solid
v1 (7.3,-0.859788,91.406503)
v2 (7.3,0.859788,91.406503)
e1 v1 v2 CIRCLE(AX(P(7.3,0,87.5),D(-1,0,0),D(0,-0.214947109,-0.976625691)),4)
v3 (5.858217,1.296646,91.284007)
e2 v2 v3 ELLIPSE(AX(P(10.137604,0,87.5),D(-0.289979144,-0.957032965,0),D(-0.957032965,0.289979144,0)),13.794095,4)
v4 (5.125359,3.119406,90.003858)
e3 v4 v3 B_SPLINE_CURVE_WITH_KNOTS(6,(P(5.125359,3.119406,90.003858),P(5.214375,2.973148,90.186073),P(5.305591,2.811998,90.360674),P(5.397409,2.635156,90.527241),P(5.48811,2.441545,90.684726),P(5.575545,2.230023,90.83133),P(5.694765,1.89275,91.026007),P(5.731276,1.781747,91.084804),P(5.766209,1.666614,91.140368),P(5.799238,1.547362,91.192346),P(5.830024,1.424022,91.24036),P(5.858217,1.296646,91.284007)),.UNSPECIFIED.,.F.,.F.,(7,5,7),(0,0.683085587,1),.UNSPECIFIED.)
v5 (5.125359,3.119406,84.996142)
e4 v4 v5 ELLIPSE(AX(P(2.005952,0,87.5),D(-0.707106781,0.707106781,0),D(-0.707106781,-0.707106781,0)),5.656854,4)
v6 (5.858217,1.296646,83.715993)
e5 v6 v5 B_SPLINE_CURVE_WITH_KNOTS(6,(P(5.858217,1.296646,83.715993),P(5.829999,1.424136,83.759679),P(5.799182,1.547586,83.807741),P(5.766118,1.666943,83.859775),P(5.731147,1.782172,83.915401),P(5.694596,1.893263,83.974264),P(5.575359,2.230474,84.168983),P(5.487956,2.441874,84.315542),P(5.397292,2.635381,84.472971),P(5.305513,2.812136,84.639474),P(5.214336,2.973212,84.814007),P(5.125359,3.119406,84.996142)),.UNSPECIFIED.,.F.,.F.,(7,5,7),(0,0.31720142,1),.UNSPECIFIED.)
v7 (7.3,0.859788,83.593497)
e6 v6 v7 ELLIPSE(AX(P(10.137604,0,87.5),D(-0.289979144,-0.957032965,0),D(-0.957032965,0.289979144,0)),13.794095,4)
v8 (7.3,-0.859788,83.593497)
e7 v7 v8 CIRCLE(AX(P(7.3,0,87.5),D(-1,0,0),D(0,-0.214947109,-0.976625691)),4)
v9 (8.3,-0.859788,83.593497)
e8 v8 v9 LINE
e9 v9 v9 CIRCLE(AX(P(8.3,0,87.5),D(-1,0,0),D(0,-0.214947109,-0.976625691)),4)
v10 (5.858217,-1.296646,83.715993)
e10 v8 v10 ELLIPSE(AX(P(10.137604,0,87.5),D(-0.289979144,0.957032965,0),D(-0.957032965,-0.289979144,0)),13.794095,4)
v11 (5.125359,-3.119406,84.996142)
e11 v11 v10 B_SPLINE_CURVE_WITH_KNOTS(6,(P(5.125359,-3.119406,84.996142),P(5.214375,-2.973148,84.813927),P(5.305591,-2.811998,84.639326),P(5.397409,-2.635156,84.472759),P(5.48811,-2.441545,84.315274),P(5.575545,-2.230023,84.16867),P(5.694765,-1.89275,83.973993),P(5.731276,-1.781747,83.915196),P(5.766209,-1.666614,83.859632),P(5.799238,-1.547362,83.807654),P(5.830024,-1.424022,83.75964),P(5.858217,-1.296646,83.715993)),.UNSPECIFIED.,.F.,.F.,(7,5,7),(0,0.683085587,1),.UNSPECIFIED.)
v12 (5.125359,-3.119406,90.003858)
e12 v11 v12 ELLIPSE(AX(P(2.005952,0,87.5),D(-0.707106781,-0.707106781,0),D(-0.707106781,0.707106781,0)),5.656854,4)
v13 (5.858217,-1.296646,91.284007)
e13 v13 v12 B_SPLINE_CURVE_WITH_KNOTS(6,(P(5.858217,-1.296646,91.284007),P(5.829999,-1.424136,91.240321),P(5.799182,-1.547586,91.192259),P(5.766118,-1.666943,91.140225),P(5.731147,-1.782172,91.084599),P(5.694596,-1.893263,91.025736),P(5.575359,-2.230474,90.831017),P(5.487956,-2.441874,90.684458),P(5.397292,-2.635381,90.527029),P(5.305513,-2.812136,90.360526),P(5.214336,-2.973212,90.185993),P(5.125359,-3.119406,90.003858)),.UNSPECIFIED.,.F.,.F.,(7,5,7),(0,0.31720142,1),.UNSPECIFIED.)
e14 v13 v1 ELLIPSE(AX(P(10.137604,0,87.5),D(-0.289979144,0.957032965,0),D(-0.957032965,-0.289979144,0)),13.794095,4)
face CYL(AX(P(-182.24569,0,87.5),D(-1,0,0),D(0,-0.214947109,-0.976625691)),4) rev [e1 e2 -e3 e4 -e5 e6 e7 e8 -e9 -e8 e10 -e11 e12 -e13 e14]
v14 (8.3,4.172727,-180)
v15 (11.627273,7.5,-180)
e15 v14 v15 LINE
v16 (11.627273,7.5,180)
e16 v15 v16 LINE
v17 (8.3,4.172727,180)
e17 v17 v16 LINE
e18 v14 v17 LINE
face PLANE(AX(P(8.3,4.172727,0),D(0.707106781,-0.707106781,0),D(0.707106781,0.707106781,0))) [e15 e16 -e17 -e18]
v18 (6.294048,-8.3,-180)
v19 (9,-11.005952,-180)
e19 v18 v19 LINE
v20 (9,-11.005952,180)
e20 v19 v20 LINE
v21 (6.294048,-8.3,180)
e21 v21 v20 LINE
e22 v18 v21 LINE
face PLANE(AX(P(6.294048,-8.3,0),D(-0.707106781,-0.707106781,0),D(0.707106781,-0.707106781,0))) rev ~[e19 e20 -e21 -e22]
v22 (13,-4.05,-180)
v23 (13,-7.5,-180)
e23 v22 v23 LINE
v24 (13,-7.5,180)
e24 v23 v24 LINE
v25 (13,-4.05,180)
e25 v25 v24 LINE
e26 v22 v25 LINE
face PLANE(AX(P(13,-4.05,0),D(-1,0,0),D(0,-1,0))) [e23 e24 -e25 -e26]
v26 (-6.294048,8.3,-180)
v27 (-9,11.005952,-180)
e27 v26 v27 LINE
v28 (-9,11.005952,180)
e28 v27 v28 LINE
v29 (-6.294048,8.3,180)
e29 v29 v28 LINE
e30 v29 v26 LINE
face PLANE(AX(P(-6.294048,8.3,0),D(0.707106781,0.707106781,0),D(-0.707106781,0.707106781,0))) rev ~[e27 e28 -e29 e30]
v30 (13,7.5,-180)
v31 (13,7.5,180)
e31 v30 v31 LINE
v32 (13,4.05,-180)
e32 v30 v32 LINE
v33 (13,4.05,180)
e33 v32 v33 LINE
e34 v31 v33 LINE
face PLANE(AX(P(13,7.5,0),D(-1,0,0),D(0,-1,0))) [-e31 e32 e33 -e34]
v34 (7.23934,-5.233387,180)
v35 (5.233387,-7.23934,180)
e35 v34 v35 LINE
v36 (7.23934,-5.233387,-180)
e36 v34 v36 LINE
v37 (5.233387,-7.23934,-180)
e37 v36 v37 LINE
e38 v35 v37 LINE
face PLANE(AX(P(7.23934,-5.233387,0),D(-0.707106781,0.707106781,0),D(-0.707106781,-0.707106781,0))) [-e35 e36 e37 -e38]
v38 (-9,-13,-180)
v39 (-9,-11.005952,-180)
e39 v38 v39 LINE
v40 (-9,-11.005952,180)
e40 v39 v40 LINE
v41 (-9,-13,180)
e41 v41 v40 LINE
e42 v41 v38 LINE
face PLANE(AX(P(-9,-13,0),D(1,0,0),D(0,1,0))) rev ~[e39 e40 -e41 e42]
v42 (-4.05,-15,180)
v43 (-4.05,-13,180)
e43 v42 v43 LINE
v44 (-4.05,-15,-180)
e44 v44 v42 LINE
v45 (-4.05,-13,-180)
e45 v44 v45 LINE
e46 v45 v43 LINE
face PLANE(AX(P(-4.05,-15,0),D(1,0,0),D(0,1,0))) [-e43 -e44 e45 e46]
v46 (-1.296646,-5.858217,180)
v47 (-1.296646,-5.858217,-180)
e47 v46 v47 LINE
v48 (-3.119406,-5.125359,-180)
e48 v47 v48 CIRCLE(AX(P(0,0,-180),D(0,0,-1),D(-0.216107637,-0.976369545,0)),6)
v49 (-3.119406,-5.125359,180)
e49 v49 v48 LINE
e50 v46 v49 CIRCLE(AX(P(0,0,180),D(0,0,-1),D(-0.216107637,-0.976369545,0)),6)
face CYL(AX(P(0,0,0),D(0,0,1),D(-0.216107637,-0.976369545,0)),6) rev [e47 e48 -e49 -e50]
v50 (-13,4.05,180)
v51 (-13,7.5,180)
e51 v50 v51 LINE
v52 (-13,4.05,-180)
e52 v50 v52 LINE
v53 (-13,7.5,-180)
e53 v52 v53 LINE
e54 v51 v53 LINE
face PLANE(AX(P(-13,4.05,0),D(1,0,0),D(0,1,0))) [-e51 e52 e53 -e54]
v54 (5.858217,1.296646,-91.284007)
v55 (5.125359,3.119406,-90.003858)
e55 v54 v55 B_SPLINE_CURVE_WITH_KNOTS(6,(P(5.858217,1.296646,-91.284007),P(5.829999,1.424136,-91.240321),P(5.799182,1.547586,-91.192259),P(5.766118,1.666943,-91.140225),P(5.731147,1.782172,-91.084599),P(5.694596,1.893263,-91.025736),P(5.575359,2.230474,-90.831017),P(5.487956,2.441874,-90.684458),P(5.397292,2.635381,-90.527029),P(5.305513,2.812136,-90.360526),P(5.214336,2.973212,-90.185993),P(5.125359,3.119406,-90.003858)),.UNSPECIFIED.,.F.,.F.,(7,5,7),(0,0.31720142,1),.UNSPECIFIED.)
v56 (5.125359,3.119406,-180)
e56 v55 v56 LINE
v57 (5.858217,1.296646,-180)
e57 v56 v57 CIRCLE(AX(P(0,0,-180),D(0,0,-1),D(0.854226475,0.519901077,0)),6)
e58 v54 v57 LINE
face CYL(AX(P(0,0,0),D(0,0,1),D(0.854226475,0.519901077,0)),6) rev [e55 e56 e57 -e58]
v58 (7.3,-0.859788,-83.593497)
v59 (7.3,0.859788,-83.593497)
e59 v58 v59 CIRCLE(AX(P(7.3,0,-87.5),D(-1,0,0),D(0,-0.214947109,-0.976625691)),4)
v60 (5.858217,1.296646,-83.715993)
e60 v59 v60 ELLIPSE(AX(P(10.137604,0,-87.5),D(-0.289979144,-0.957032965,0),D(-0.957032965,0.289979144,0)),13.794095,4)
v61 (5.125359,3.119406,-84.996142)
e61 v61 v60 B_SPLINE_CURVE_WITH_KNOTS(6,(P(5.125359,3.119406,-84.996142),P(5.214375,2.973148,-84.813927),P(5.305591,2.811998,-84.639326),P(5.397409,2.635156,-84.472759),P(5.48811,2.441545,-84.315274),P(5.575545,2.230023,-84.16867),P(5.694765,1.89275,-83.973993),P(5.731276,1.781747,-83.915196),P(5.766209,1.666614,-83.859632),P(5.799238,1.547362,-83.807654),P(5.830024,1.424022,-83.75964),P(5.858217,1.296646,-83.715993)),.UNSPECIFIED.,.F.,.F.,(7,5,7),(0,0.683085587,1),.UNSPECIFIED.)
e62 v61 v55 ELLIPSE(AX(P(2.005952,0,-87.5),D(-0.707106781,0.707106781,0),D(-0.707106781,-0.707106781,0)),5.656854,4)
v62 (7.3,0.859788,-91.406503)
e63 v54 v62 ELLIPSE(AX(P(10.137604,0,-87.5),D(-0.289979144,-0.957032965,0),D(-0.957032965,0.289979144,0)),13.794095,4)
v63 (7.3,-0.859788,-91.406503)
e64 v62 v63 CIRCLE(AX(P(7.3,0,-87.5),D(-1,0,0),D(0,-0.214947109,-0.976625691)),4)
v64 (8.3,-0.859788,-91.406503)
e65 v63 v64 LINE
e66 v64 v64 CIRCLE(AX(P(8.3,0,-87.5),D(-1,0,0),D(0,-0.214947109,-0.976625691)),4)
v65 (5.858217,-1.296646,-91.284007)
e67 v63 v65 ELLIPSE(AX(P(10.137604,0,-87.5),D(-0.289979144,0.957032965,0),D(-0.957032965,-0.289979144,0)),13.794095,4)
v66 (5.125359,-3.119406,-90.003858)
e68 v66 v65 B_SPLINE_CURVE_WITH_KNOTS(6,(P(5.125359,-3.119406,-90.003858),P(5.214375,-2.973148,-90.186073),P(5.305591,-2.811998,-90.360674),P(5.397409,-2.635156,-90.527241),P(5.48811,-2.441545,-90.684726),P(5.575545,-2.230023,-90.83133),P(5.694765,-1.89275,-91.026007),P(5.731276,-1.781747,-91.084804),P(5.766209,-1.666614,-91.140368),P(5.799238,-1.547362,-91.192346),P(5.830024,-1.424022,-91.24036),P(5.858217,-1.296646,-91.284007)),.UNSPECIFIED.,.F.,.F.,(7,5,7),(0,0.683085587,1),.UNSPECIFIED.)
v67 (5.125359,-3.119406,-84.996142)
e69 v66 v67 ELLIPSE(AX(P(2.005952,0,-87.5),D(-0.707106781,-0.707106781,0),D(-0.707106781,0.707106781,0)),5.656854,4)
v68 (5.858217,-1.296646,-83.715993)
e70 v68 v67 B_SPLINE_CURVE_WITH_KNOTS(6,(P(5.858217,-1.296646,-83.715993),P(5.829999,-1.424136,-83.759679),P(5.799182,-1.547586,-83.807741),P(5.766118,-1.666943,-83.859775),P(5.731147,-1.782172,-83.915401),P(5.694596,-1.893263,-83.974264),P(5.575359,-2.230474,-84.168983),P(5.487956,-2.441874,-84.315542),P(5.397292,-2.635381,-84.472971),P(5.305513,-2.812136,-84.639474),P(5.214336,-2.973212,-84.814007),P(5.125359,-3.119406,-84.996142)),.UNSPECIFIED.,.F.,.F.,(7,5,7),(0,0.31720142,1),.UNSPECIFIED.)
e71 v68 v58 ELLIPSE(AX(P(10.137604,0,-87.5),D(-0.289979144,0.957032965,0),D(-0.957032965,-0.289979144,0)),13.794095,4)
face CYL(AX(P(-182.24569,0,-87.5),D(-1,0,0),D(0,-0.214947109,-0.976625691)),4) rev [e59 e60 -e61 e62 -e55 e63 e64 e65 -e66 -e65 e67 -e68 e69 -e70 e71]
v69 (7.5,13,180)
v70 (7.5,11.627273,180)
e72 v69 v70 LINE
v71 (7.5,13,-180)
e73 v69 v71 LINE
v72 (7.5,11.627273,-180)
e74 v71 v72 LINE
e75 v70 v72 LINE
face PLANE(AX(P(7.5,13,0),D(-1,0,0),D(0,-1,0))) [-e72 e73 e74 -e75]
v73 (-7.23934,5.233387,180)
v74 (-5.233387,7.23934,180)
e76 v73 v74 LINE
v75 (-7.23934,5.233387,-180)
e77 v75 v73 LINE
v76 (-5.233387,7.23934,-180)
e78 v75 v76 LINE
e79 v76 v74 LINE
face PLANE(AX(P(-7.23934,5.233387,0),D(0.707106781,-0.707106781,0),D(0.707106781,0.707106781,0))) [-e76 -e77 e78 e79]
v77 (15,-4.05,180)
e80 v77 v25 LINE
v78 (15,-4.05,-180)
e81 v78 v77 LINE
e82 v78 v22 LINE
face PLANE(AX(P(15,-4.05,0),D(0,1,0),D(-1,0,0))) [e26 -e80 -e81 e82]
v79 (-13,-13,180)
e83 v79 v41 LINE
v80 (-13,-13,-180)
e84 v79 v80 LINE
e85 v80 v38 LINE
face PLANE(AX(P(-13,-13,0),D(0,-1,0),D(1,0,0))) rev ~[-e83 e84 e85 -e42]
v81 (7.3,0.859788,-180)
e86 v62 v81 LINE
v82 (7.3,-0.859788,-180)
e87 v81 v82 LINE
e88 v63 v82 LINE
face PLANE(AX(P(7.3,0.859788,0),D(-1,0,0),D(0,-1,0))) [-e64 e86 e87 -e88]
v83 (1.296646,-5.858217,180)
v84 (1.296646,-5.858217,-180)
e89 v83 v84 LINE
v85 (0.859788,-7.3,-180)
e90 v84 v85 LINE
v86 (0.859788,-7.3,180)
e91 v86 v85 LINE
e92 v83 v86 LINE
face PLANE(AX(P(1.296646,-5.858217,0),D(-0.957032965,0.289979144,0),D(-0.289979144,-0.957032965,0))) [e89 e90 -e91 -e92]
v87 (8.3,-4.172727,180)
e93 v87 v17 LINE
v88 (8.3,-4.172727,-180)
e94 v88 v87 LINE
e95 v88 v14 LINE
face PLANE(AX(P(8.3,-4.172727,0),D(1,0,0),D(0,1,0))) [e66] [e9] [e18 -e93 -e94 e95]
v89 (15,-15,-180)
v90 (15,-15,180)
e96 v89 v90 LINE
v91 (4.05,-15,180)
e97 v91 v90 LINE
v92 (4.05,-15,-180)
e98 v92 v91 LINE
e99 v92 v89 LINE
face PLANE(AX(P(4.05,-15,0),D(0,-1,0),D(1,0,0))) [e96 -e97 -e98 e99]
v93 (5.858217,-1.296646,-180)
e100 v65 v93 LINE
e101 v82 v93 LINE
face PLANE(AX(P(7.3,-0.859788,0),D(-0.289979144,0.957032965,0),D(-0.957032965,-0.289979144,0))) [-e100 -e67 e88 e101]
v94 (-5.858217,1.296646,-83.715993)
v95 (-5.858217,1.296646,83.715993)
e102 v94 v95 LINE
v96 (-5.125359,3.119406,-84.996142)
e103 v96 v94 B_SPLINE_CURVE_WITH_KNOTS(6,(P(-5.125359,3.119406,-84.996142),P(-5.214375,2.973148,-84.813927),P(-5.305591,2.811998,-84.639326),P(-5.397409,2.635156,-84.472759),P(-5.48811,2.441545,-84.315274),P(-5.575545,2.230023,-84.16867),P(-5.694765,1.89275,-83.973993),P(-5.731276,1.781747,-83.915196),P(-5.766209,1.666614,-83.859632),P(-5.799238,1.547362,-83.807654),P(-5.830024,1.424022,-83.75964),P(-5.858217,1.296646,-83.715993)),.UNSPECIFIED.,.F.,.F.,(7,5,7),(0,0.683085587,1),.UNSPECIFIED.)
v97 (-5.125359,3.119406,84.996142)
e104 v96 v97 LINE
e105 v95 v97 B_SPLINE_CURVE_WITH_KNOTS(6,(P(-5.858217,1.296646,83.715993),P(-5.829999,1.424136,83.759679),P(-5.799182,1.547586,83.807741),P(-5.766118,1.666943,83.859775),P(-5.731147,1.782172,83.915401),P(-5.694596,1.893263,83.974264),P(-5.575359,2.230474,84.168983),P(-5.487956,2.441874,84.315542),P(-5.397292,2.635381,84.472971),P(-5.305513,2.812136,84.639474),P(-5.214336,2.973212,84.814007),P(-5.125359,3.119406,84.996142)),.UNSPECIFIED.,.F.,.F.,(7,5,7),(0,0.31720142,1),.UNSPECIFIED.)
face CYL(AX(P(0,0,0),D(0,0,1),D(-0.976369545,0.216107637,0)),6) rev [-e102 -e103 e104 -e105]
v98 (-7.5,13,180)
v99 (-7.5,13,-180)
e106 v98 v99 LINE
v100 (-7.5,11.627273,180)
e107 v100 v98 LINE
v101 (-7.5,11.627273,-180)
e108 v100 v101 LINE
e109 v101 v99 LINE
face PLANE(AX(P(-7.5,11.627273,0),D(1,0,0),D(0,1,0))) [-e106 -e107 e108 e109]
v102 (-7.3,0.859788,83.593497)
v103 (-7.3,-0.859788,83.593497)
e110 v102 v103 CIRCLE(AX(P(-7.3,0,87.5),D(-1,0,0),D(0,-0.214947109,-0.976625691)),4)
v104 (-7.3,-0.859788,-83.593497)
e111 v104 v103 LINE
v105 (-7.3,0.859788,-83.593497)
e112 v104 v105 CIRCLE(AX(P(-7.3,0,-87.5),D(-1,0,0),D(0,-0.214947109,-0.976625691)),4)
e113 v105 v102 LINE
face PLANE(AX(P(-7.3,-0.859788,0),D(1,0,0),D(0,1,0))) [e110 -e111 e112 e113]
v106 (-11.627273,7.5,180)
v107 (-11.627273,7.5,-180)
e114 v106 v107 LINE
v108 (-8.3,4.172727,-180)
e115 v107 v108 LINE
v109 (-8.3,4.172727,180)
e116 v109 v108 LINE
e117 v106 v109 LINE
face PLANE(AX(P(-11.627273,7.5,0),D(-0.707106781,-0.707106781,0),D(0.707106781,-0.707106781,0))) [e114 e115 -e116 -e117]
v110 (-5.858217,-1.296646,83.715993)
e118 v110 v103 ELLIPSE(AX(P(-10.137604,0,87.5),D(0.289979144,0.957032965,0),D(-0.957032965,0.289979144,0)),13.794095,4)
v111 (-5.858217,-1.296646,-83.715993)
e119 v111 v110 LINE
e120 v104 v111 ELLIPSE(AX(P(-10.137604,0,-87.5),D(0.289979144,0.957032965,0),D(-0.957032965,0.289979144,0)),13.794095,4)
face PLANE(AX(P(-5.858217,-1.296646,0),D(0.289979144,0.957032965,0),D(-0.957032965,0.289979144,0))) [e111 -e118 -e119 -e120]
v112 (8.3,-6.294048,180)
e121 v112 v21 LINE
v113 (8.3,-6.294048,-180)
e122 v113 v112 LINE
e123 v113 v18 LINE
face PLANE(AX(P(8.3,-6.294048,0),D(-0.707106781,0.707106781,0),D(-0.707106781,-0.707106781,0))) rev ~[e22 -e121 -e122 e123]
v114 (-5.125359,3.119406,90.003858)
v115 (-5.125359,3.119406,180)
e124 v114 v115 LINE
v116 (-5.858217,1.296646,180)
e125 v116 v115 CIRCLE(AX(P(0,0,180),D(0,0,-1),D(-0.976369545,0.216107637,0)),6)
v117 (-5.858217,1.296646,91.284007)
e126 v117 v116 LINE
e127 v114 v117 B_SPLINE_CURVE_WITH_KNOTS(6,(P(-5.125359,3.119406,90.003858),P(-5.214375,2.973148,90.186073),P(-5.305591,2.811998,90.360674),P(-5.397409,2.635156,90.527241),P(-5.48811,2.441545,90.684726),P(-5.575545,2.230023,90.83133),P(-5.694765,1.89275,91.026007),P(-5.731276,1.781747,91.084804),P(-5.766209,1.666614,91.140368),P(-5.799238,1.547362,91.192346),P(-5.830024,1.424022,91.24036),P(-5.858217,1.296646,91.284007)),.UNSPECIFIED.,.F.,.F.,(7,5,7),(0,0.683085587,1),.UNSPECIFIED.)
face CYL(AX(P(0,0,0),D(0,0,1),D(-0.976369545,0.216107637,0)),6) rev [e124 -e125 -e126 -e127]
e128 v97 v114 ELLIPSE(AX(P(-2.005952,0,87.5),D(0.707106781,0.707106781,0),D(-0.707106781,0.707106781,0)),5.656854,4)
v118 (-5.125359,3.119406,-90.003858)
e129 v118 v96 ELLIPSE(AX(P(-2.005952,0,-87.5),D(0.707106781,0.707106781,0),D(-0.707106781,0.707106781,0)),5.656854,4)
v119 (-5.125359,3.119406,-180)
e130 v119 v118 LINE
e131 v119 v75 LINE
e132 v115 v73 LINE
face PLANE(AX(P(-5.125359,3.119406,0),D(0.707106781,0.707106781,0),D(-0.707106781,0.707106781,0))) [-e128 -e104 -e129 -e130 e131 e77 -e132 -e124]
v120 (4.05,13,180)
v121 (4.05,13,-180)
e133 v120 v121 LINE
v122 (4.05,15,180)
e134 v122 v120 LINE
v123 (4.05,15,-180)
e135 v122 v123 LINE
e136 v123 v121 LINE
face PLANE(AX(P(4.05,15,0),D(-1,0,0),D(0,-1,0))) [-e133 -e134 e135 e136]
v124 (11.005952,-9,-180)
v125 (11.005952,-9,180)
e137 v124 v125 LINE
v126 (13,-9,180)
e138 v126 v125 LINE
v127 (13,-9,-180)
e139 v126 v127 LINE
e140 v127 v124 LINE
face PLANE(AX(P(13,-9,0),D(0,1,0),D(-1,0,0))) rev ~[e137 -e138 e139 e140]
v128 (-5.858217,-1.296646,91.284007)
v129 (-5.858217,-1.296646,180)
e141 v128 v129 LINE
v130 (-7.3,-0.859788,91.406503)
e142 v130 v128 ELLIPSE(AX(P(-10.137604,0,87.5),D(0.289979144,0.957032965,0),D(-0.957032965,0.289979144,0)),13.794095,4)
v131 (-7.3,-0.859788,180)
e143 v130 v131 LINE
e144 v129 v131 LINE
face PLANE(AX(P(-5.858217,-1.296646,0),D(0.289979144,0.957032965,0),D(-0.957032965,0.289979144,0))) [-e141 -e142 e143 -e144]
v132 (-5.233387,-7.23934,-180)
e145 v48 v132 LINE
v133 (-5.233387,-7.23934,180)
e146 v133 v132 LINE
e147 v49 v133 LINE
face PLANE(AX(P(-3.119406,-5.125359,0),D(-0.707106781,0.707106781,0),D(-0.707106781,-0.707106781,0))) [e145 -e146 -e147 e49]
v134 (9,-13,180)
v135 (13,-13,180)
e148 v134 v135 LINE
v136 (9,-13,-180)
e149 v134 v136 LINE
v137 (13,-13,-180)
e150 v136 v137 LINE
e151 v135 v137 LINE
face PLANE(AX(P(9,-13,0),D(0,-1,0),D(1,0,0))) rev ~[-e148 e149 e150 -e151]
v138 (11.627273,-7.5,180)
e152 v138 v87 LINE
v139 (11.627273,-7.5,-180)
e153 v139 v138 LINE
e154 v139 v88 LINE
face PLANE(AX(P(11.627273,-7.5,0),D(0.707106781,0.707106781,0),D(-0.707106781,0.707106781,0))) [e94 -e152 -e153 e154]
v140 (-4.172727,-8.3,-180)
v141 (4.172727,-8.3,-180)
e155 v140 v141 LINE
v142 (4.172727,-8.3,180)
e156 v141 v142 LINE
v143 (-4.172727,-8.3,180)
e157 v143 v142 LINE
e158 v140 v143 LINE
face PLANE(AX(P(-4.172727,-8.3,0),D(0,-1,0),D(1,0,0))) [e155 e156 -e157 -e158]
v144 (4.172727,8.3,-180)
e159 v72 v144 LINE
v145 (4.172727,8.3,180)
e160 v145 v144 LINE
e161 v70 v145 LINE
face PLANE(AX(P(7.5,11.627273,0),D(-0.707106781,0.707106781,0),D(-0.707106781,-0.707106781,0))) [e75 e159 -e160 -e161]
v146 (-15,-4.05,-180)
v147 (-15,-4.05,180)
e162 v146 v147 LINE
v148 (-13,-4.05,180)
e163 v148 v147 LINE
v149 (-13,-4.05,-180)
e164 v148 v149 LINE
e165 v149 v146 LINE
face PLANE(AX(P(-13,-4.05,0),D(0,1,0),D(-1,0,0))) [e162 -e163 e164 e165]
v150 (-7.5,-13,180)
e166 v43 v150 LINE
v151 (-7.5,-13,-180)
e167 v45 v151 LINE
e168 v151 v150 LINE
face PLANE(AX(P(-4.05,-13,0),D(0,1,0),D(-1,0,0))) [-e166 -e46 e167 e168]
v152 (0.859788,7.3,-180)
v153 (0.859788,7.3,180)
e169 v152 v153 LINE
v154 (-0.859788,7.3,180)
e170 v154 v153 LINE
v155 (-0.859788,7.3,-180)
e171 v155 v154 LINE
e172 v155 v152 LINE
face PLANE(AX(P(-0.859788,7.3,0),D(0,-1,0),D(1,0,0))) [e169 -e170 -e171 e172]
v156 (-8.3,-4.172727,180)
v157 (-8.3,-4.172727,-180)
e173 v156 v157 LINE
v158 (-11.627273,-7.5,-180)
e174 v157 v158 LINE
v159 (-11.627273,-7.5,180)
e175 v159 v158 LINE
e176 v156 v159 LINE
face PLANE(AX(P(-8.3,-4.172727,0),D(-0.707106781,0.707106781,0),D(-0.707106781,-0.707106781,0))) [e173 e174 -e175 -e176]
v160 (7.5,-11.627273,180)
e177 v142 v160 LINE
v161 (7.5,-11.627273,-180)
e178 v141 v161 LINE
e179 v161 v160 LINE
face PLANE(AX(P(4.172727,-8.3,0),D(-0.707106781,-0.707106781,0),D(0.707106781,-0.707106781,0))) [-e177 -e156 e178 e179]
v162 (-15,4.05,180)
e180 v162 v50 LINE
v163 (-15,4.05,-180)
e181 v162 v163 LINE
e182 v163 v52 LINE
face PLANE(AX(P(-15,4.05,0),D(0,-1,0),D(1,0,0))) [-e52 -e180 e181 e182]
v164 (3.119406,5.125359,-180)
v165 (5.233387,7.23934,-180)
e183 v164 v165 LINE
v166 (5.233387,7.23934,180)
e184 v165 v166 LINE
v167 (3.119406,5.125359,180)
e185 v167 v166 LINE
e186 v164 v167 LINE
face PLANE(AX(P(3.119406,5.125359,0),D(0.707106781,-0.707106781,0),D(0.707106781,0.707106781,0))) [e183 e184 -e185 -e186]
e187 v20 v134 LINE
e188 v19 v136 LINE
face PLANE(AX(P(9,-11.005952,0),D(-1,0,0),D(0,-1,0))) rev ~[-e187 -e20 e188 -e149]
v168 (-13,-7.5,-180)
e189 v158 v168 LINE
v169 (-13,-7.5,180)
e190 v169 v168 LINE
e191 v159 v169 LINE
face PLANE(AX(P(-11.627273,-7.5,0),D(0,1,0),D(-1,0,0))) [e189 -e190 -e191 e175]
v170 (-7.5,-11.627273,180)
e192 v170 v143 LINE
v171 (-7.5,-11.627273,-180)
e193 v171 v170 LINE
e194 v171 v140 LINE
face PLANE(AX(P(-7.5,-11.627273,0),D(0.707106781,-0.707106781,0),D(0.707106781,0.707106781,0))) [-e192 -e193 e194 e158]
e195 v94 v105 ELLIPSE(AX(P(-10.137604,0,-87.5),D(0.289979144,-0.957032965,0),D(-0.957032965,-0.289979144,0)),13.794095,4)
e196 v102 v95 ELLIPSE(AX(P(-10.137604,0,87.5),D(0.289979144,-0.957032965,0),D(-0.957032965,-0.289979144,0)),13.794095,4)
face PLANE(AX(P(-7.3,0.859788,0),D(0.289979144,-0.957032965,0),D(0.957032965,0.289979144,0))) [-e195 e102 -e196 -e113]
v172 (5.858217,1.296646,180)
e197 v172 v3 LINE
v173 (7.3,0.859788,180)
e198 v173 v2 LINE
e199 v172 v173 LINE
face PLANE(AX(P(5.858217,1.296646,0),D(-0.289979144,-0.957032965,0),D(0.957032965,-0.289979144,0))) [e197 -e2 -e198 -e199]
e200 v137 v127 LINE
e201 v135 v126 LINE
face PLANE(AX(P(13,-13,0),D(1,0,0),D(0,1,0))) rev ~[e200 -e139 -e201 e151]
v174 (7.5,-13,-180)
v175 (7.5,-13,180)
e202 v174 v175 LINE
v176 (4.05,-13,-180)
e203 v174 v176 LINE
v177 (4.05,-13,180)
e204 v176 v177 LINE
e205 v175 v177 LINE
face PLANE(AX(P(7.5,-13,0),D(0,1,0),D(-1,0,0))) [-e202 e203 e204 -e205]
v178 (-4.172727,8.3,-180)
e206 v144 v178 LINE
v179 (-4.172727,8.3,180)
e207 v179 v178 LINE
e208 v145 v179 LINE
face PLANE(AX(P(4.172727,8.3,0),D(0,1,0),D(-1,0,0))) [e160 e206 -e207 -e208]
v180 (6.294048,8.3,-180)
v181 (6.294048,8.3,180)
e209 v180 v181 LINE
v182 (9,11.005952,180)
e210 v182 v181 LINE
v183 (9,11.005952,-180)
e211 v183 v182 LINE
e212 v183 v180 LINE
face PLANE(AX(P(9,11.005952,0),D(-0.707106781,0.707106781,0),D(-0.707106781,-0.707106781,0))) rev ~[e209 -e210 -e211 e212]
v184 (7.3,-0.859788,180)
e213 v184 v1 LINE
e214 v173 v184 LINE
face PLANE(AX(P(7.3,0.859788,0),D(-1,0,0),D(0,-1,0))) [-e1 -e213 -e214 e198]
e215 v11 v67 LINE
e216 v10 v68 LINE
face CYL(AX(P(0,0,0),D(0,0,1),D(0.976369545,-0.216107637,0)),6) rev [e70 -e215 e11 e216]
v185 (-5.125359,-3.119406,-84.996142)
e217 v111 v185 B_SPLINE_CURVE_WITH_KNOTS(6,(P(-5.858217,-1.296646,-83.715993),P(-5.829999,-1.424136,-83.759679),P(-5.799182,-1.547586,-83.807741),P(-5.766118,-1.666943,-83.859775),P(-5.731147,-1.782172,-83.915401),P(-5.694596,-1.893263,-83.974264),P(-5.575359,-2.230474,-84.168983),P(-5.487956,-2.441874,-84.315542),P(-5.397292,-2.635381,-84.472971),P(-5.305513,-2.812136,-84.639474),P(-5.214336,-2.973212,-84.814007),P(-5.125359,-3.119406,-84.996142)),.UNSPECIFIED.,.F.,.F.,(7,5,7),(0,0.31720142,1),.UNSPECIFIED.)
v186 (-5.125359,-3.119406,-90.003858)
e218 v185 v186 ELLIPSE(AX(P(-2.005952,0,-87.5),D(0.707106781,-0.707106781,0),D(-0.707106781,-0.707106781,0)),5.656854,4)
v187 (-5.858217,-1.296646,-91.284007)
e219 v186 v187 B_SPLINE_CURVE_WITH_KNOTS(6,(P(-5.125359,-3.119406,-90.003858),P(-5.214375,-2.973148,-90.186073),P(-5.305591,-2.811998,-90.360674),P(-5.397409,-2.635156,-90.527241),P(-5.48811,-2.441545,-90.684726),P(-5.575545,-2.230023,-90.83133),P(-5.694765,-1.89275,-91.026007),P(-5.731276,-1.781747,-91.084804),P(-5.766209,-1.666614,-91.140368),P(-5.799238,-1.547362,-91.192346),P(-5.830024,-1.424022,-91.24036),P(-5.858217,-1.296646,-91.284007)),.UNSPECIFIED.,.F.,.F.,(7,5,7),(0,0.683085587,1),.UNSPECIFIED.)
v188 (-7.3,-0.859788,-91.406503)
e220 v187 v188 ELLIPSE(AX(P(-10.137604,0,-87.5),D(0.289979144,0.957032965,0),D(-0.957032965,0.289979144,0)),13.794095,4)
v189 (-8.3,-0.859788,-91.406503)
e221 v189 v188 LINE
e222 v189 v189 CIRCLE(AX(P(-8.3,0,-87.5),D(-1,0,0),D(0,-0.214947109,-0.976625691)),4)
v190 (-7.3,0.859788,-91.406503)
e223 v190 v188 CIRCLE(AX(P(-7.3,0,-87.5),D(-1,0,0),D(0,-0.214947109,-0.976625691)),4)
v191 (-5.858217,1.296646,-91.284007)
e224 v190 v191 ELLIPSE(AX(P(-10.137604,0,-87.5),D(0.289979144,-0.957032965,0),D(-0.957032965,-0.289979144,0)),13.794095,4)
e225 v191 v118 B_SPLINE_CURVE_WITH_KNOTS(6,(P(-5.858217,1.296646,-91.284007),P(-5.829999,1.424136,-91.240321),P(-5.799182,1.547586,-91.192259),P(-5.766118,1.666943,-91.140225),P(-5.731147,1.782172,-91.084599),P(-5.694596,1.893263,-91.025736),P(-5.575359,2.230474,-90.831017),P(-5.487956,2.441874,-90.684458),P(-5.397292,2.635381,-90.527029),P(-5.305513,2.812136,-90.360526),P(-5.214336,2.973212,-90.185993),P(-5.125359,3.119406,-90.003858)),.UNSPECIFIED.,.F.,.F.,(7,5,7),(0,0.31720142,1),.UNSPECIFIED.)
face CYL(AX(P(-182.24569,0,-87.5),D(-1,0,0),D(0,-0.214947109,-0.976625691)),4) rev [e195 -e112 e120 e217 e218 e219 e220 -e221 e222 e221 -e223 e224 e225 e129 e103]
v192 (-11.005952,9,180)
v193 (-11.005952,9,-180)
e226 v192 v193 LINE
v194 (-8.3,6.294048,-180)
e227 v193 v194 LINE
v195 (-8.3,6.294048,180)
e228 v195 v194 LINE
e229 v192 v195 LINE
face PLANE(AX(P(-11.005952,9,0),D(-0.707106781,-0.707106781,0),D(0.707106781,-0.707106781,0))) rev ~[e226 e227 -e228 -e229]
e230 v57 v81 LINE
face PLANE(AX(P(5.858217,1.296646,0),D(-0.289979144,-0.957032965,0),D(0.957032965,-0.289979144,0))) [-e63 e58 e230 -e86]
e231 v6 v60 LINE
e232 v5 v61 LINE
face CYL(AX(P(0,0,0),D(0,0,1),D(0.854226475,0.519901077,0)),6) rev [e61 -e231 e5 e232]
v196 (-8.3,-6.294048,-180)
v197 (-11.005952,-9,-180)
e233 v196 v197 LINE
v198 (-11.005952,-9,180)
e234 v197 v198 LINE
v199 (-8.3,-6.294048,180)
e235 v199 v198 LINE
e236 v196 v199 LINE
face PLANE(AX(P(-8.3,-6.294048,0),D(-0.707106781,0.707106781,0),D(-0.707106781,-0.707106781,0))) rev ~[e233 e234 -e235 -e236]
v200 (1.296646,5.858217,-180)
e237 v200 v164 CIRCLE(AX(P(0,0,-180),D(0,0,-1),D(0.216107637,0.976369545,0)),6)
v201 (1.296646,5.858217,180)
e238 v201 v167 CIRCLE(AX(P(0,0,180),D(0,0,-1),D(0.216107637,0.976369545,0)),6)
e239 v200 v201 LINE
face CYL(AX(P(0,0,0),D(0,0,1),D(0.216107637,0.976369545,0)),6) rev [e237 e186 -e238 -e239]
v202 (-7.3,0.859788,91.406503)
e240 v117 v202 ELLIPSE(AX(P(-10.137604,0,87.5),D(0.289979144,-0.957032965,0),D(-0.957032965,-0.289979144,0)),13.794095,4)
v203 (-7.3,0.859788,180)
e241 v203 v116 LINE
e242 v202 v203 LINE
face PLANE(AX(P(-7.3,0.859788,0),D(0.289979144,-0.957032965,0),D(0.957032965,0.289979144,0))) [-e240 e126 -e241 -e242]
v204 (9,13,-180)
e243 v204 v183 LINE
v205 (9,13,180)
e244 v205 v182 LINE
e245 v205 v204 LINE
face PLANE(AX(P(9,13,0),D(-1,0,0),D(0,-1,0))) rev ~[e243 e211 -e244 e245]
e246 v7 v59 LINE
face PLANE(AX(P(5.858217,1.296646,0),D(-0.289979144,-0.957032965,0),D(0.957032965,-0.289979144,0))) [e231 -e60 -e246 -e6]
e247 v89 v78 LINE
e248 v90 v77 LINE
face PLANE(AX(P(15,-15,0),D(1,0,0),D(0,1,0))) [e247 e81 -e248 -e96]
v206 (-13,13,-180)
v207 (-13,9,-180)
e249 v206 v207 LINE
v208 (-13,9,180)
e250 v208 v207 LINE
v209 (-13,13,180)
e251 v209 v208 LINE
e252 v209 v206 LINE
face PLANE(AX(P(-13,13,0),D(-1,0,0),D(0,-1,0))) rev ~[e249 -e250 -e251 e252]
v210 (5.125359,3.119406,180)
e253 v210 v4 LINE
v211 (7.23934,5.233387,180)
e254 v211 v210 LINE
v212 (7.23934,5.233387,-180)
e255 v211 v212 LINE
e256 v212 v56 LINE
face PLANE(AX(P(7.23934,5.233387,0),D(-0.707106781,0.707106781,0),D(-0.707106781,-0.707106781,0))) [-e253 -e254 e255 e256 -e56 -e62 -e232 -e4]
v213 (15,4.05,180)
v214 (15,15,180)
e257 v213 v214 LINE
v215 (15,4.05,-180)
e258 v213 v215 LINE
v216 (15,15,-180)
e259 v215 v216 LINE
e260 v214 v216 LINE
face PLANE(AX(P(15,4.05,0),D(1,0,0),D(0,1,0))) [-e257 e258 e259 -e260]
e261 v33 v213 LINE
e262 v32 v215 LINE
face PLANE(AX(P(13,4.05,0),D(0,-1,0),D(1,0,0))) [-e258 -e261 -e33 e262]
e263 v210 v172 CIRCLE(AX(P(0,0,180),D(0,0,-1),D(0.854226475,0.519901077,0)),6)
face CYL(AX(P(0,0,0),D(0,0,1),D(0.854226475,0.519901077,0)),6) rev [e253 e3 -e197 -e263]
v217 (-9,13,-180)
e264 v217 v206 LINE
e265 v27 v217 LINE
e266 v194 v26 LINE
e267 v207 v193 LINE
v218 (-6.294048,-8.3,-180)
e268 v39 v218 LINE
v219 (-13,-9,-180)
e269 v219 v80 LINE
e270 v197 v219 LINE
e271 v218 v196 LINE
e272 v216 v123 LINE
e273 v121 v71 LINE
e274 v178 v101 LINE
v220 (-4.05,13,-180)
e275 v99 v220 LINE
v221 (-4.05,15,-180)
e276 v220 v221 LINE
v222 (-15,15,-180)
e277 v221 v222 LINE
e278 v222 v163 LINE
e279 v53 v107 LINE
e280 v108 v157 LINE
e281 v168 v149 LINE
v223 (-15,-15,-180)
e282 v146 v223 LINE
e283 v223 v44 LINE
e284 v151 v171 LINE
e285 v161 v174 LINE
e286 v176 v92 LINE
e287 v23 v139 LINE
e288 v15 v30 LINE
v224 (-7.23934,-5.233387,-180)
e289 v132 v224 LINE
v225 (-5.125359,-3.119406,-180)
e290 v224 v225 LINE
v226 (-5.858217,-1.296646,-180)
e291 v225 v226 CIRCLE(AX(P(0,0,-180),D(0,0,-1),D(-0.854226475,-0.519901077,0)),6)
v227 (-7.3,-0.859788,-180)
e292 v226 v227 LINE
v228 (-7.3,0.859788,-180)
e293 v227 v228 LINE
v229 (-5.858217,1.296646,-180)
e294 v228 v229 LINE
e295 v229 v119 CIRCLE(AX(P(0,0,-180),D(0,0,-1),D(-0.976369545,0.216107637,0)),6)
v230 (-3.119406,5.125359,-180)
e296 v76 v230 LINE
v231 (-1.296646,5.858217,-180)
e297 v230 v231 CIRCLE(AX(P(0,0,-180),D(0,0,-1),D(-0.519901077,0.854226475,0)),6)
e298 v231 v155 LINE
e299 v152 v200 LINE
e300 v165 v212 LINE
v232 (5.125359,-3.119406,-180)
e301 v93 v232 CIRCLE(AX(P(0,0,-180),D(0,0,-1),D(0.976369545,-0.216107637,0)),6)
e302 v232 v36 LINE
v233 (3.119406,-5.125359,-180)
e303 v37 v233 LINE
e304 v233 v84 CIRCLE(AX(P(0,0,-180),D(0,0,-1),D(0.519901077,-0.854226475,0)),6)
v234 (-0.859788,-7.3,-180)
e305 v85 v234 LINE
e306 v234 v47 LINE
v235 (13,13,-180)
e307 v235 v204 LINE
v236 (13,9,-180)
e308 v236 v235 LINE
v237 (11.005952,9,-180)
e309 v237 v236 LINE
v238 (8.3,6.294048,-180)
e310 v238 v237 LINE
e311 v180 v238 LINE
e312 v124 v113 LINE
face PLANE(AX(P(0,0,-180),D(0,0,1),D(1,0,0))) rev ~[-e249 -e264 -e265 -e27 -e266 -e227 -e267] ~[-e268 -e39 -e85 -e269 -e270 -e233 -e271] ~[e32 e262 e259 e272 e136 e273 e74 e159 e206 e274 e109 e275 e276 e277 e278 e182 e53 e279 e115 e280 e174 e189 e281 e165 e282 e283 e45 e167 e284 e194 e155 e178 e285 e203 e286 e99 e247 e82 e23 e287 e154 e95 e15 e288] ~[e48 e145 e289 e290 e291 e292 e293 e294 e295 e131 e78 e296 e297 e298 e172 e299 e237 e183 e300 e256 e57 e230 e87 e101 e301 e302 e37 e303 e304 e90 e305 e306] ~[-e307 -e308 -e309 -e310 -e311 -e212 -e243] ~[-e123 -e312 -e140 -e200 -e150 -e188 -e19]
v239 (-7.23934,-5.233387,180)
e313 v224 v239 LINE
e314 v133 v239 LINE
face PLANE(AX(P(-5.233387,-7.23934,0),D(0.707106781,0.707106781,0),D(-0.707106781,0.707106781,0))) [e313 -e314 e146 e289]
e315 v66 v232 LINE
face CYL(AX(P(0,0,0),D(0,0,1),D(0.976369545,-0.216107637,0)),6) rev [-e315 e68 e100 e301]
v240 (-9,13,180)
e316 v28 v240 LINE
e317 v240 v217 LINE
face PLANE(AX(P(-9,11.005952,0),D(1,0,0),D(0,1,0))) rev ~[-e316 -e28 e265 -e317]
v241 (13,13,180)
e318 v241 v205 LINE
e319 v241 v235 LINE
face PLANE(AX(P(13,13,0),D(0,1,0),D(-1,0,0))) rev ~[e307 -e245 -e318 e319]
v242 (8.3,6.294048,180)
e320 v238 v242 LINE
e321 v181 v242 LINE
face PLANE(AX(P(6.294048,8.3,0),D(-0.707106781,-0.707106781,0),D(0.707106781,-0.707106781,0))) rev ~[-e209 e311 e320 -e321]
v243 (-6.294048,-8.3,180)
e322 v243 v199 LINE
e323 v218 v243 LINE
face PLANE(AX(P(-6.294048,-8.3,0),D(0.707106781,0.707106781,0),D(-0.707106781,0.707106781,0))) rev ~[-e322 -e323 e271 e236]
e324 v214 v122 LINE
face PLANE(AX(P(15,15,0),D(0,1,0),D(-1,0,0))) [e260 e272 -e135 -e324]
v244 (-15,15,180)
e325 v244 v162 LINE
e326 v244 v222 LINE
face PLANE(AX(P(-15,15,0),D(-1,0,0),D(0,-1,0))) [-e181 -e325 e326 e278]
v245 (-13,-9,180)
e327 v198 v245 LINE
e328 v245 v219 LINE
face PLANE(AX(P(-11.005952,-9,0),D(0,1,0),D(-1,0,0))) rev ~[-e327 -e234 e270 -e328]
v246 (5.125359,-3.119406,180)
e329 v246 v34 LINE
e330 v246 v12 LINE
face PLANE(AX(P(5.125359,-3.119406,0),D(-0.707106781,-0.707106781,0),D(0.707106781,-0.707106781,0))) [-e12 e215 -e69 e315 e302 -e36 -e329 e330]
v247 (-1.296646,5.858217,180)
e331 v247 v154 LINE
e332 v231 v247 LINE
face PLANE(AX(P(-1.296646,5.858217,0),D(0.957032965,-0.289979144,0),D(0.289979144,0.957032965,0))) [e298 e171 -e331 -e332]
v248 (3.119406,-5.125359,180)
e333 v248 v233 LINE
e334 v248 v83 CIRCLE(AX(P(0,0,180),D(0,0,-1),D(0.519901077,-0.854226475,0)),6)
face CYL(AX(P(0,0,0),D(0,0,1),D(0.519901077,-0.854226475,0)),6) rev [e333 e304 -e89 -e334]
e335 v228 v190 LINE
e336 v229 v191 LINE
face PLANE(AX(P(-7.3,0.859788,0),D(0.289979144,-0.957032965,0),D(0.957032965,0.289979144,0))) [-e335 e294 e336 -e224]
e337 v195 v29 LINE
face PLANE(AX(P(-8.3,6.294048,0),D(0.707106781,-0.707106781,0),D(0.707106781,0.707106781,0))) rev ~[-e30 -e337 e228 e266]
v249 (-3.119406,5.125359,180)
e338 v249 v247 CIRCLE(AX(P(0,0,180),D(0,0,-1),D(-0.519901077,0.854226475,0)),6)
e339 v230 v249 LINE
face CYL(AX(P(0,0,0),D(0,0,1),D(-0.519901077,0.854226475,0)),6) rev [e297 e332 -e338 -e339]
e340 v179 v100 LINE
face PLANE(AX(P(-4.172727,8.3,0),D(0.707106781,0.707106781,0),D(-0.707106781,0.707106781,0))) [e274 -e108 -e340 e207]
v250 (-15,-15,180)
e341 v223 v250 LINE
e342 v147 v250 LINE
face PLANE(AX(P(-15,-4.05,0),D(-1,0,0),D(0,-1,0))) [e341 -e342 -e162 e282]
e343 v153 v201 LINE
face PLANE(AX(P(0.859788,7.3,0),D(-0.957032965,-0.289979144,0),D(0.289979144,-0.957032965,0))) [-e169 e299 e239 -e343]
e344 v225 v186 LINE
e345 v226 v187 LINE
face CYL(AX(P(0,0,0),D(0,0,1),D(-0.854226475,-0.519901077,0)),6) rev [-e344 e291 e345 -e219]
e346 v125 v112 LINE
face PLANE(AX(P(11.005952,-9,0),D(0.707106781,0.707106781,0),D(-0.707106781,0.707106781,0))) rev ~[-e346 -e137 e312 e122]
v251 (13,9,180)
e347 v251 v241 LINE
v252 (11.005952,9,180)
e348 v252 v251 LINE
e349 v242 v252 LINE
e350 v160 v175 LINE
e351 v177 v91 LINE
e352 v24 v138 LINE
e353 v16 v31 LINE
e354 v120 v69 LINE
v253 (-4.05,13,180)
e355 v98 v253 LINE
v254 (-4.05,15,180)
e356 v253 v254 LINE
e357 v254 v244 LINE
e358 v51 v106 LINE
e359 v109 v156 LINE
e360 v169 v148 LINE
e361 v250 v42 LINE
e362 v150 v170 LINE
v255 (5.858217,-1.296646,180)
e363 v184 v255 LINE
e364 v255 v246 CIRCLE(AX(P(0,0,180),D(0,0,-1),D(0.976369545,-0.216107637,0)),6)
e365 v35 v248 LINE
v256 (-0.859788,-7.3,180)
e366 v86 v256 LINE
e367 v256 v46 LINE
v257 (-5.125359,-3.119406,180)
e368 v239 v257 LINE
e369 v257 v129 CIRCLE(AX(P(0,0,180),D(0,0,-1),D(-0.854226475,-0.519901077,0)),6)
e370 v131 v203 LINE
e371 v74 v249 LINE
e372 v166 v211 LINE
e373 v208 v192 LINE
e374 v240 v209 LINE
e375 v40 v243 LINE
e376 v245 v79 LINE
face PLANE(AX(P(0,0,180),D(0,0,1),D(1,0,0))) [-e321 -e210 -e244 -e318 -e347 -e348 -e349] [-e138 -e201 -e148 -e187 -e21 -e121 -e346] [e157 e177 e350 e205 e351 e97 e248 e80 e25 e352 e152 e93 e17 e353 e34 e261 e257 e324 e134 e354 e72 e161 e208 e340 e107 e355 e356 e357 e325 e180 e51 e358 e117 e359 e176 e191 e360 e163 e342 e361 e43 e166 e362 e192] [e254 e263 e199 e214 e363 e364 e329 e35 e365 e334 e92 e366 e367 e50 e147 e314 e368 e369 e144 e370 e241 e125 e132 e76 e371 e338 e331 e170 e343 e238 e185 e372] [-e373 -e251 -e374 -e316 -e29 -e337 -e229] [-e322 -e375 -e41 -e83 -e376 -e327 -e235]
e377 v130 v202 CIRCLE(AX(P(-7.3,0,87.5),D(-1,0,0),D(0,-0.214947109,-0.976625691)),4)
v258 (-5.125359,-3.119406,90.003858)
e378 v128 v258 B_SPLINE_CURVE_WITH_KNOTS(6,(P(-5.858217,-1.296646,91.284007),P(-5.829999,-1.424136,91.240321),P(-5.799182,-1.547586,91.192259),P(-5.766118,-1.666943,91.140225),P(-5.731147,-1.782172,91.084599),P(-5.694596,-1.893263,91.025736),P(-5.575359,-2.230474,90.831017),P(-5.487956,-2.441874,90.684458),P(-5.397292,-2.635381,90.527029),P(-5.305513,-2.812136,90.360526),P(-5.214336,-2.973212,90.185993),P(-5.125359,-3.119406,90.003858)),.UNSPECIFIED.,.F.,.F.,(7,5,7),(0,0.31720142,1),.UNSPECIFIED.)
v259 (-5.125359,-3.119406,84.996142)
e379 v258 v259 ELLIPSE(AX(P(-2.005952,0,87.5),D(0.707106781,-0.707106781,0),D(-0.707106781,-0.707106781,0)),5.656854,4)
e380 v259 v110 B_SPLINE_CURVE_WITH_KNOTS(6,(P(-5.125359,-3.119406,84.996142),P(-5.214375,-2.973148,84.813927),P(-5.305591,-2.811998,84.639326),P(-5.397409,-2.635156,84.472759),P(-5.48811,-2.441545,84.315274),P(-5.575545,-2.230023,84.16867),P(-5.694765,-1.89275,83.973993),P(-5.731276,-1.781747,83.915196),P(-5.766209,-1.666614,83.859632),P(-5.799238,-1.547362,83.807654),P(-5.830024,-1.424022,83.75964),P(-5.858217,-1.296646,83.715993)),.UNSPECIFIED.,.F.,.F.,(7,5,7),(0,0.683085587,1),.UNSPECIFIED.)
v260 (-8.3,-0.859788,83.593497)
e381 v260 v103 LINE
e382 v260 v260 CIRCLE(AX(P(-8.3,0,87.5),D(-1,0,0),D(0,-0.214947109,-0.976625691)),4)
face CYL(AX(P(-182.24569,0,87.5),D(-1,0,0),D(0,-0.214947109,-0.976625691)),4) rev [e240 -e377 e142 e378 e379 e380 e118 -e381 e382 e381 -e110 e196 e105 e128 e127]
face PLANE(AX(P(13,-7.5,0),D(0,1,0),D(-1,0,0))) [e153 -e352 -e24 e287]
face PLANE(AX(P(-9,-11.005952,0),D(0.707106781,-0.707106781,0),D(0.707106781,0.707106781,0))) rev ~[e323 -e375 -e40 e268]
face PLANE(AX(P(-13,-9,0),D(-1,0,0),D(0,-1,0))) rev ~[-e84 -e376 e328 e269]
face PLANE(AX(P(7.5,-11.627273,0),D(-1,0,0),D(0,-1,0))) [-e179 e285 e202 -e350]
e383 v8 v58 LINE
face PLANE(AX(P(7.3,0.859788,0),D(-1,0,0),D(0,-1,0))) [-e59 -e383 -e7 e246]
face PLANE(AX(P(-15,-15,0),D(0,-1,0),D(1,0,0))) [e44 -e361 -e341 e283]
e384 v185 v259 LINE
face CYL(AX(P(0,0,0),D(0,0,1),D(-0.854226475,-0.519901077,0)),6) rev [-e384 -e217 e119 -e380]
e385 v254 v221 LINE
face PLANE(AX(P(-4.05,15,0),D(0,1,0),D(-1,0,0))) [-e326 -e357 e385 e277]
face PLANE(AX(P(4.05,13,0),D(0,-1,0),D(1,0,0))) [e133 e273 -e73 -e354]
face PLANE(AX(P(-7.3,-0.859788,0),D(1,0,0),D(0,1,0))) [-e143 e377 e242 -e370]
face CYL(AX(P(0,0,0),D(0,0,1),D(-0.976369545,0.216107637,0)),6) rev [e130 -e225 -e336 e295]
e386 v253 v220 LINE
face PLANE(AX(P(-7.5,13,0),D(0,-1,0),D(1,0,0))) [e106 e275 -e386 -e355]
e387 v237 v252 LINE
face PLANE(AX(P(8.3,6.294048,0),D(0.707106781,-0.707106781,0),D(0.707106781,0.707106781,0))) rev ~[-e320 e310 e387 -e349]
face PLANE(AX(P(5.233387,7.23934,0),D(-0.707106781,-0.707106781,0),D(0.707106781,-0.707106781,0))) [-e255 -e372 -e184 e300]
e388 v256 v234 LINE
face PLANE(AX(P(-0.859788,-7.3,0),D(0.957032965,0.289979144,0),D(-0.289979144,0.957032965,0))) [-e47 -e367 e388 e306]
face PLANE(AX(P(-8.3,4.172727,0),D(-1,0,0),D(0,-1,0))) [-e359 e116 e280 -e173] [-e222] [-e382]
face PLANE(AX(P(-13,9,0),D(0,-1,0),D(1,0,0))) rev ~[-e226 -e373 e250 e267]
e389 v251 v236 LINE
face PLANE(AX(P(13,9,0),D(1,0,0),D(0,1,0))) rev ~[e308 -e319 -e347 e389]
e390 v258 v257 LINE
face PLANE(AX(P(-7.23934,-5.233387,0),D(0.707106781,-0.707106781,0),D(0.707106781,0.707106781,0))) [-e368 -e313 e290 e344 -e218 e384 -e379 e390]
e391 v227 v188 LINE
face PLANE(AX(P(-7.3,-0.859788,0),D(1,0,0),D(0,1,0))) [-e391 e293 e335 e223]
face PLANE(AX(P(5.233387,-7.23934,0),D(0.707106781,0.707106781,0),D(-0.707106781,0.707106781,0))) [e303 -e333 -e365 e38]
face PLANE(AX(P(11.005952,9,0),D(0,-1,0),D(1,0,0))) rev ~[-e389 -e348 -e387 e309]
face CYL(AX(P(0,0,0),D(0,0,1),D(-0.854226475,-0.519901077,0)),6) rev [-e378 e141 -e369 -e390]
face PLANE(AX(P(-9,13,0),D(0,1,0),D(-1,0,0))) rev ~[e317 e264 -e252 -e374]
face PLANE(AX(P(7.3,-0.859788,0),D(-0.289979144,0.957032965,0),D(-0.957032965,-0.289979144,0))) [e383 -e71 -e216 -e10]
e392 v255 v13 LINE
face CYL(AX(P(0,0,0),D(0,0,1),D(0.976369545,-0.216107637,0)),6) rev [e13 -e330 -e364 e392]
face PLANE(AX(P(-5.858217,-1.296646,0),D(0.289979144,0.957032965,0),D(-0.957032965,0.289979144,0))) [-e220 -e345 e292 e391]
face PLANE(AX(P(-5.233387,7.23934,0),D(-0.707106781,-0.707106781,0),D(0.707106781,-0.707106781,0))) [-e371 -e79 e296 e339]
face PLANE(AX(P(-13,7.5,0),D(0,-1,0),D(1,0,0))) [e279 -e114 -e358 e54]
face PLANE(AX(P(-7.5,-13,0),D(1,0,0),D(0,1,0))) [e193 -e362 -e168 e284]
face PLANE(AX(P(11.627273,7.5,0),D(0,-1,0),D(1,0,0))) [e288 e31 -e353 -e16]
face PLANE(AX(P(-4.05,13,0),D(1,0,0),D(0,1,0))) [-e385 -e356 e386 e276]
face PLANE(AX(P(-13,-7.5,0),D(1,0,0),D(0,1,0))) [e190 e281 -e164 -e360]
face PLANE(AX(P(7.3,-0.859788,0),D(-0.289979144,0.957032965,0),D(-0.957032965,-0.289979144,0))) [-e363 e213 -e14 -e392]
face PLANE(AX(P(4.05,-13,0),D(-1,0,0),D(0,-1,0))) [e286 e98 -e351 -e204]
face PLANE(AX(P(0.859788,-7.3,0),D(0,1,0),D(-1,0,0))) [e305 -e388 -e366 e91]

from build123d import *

# Parameters (mm, degrees)
RESSALTO_EXTRUS_O1_DEPTH   = 180
CORTE_EXTRUS_O1_DEPTH      = 182.245689604
CORTE_EXTRUS_O1_DEPTH_BACK = 182.245689604
ESBO_O2_R                  = 4


with BuildPart() as part:
    # Esboço1 → Ressalto-extrusão1 (new, symmetric)
    with BuildSketch(Plane.XY):
        Polygon((-13, -4.05), (-15, -4.05), (-15, -15), (-4.05, -15), (-4.05, -13), (-7.5, -13), (-7.5, -11.627272727), (-4.172727273, -8.3), (4.172727273, -8.3), (7.5, -11.627272727), (7.5, -13), (4.05, -13), (4.05, -15), (15, -15), (15, -4.05), (13, -4.05), (13, -7.5), (11.627272727, -7.5), (8.3, -4.172727273), (8.3, 4.172727273), (11.627272727, 7.5), (13, 7.5), (13, 4.05), (15, 4.05), (15, 15), (4.05, 15), (4.05, 13), (7.5, 13), (7.5, 11.627272727), (4.172727273, 8.3), (-4.172727273, 8.3), (-7.5, 11.627272727), (-7.5, 13), (-4.05, 13), (-4.05, 15), (-15, 15), (-15, 4.05), (-13, 4.05), (-13, 7.5), (-11.627272727, 7.5), (-8.3, 4.172727273), (-8.3, -4.172727273), (-11.627272727, -7.5), (-13, -7.5), align=None)
        with BuildLine():
            Line((-7.239339828, -5.233387445), (-5.125358847, -3.119406464))
            ThreePointArc((-5.125358847, -3.119406464), (-5.566897716, -2.238224702), (-5.858217272, -1.296645823))
            Line((-5.858217272, -1.296645823), (-7.3, -0.859788435))
            Line((-7.3, -0.859788435), (-7.3, 0.859788435))
            Line((-7.3, 0.859788435), (-5.858217272, 1.296645823))
            ThreePointArc((-5.858217272, 1.296645823), (-5.566897716, 2.238224702), (-5.125358847, 3.119406464))
            Line((-5.125358847, 3.119406464), (-7.239339828, 5.233387445))
            Line((-7.239339828, 5.233387445), (-5.233387445, 7.239339828))
            Line((-5.233387445, 7.239339828), (-3.119406464, 5.125358847))
            ThreePointArc((-3.119406464, 5.125358847), (-2.238224702, 5.566897716), (-1.296645823, 5.858217272))
            Line((-1.296645823, 5.858217272), (-0.859788435, 7.3))
            Line((-0.859788435, 7.3), (0.859788435, 7.3))
            Line((0.859788435, 7.3), (1.296645823, 5.858217272))
            ThreePointArc((1.296645823, 5.858217272), (2.238224702, 5.566897716), (3.119406464, 5.125358847))
            Line((3.119406464, 5.125358847), (5.233387445, 7.239339828))
            Line((5.233387445, 7.239339828), (7.239339828, 5.233387445))
            Line((7.239339828, 5.233387445), (5.125358847, 3.119406464))
            ThreePointArc((5.125358847, 3.119406464), (5.566897716, 2.238224702), (5.858217272, 1.296645823))
            Line((5.858217272, 1.296645823), (7.3, 0.859788435))
            Line((7.3, 0.859788435), (7.3, -0.859788435))
            Line((7.3, -0.859788435), (5.858217272, -1.296645823))
            ThreePointArc((5.858217272, -1.296645823), (5.566897716, -2.238224702), (5.125358847, -3.119406464))
            Line((5.125358847, -3.119406464), (7.239339828, -5.233387445))
            Line((7.239339828, -5.233387445), (5.233387445, -7.239339828))
            Line((5.233387445, -7.239339828), (3.119406464, -5.125358847))
            ThreePointArc((3.119406464, -5.125358847), (2.238224702, -5.566897716), (1.296645823, -5.858217272))
            Line((1.296645823, -5.858217272), (0.859788435, -7.3))
            Line((0.859788435, -7.3), (-0.859788435, -7.3))
            Line((-0.859788435, -7.3), (-1.296645823, -5.858217272))
            ThreePointArc((-1.296645823, -5.858217272), (-2.238224702, -5.566897716), (-3.119406464, -5.125358847))
            Line((-3.119406464, -5.125358847), (-5.233387445, -7.239339828))
            Line((-5.233387445, -7.239339828), (-7.239339828, -5.233387445))
        make_face(mode=Mode.SUBTRACT)
        Polygon((-11.005952384, -9), (-13, -9), (-13, -13), (-9, -13), (-9, -11.005952384), (-6.294047616, -8.3), (-8.3, -6.294047616), align=None, mode=Mode.SUBTRACT)
        Polygon((9, -11.005952384), (9, -13), (13, -13), (13, -9), (11.005952384, -9), (8.3, -6.294047616), (6.294047616, -8.3), align=None, mode=Mode.SUBTRACT)
        Polygon((11.005952384, 9), (13, 9), (13, 13), (9, 13), (9, 11.005952384), (6.294047616, 8.3), (8.3, 6.294047616), align=None, mode=Mode.SUBTRACT)
        Polygon((-9, 11.005952384), (-9, 13), (-13, 13), (-13, 9), (-11.005952384, 9), (-8.3, 6.294047616), (-6.294047616, 8.3), align=None, mode=Mode.SUBTRACT)
    extrude(amount=RESSALTO_EXTRUS_O1_DEPTH, both=True)

    # Esboço2 → Corte-extrusão1 (cut, two sides: drawn at the far end of the back side and taken through both)
    with BuildSketch(Plane(origin=(0, 0, 0), x_dir=(0, 0, -1), z_dir=(1, 0, 0)).offset(-CORTE_EXTRUS_O1_DEPTH_BACK)):
        with Locations(Location((87.5, 0, 0), (0, 0, 347.587575691))):
            Circle(ESBO_O2_R)
        with Locations(Location((-87.5, 0, 0), (0, 0, 347.587575691))):
            Circle(ESBO_O2_R)
    extrude(amount=CORTE_EXTRUS_O1_DEPTH + CORTE_EXTRUS_O1_DEPTH_BACK, mode=Mode.SUBTRACT)


solid = part.part
